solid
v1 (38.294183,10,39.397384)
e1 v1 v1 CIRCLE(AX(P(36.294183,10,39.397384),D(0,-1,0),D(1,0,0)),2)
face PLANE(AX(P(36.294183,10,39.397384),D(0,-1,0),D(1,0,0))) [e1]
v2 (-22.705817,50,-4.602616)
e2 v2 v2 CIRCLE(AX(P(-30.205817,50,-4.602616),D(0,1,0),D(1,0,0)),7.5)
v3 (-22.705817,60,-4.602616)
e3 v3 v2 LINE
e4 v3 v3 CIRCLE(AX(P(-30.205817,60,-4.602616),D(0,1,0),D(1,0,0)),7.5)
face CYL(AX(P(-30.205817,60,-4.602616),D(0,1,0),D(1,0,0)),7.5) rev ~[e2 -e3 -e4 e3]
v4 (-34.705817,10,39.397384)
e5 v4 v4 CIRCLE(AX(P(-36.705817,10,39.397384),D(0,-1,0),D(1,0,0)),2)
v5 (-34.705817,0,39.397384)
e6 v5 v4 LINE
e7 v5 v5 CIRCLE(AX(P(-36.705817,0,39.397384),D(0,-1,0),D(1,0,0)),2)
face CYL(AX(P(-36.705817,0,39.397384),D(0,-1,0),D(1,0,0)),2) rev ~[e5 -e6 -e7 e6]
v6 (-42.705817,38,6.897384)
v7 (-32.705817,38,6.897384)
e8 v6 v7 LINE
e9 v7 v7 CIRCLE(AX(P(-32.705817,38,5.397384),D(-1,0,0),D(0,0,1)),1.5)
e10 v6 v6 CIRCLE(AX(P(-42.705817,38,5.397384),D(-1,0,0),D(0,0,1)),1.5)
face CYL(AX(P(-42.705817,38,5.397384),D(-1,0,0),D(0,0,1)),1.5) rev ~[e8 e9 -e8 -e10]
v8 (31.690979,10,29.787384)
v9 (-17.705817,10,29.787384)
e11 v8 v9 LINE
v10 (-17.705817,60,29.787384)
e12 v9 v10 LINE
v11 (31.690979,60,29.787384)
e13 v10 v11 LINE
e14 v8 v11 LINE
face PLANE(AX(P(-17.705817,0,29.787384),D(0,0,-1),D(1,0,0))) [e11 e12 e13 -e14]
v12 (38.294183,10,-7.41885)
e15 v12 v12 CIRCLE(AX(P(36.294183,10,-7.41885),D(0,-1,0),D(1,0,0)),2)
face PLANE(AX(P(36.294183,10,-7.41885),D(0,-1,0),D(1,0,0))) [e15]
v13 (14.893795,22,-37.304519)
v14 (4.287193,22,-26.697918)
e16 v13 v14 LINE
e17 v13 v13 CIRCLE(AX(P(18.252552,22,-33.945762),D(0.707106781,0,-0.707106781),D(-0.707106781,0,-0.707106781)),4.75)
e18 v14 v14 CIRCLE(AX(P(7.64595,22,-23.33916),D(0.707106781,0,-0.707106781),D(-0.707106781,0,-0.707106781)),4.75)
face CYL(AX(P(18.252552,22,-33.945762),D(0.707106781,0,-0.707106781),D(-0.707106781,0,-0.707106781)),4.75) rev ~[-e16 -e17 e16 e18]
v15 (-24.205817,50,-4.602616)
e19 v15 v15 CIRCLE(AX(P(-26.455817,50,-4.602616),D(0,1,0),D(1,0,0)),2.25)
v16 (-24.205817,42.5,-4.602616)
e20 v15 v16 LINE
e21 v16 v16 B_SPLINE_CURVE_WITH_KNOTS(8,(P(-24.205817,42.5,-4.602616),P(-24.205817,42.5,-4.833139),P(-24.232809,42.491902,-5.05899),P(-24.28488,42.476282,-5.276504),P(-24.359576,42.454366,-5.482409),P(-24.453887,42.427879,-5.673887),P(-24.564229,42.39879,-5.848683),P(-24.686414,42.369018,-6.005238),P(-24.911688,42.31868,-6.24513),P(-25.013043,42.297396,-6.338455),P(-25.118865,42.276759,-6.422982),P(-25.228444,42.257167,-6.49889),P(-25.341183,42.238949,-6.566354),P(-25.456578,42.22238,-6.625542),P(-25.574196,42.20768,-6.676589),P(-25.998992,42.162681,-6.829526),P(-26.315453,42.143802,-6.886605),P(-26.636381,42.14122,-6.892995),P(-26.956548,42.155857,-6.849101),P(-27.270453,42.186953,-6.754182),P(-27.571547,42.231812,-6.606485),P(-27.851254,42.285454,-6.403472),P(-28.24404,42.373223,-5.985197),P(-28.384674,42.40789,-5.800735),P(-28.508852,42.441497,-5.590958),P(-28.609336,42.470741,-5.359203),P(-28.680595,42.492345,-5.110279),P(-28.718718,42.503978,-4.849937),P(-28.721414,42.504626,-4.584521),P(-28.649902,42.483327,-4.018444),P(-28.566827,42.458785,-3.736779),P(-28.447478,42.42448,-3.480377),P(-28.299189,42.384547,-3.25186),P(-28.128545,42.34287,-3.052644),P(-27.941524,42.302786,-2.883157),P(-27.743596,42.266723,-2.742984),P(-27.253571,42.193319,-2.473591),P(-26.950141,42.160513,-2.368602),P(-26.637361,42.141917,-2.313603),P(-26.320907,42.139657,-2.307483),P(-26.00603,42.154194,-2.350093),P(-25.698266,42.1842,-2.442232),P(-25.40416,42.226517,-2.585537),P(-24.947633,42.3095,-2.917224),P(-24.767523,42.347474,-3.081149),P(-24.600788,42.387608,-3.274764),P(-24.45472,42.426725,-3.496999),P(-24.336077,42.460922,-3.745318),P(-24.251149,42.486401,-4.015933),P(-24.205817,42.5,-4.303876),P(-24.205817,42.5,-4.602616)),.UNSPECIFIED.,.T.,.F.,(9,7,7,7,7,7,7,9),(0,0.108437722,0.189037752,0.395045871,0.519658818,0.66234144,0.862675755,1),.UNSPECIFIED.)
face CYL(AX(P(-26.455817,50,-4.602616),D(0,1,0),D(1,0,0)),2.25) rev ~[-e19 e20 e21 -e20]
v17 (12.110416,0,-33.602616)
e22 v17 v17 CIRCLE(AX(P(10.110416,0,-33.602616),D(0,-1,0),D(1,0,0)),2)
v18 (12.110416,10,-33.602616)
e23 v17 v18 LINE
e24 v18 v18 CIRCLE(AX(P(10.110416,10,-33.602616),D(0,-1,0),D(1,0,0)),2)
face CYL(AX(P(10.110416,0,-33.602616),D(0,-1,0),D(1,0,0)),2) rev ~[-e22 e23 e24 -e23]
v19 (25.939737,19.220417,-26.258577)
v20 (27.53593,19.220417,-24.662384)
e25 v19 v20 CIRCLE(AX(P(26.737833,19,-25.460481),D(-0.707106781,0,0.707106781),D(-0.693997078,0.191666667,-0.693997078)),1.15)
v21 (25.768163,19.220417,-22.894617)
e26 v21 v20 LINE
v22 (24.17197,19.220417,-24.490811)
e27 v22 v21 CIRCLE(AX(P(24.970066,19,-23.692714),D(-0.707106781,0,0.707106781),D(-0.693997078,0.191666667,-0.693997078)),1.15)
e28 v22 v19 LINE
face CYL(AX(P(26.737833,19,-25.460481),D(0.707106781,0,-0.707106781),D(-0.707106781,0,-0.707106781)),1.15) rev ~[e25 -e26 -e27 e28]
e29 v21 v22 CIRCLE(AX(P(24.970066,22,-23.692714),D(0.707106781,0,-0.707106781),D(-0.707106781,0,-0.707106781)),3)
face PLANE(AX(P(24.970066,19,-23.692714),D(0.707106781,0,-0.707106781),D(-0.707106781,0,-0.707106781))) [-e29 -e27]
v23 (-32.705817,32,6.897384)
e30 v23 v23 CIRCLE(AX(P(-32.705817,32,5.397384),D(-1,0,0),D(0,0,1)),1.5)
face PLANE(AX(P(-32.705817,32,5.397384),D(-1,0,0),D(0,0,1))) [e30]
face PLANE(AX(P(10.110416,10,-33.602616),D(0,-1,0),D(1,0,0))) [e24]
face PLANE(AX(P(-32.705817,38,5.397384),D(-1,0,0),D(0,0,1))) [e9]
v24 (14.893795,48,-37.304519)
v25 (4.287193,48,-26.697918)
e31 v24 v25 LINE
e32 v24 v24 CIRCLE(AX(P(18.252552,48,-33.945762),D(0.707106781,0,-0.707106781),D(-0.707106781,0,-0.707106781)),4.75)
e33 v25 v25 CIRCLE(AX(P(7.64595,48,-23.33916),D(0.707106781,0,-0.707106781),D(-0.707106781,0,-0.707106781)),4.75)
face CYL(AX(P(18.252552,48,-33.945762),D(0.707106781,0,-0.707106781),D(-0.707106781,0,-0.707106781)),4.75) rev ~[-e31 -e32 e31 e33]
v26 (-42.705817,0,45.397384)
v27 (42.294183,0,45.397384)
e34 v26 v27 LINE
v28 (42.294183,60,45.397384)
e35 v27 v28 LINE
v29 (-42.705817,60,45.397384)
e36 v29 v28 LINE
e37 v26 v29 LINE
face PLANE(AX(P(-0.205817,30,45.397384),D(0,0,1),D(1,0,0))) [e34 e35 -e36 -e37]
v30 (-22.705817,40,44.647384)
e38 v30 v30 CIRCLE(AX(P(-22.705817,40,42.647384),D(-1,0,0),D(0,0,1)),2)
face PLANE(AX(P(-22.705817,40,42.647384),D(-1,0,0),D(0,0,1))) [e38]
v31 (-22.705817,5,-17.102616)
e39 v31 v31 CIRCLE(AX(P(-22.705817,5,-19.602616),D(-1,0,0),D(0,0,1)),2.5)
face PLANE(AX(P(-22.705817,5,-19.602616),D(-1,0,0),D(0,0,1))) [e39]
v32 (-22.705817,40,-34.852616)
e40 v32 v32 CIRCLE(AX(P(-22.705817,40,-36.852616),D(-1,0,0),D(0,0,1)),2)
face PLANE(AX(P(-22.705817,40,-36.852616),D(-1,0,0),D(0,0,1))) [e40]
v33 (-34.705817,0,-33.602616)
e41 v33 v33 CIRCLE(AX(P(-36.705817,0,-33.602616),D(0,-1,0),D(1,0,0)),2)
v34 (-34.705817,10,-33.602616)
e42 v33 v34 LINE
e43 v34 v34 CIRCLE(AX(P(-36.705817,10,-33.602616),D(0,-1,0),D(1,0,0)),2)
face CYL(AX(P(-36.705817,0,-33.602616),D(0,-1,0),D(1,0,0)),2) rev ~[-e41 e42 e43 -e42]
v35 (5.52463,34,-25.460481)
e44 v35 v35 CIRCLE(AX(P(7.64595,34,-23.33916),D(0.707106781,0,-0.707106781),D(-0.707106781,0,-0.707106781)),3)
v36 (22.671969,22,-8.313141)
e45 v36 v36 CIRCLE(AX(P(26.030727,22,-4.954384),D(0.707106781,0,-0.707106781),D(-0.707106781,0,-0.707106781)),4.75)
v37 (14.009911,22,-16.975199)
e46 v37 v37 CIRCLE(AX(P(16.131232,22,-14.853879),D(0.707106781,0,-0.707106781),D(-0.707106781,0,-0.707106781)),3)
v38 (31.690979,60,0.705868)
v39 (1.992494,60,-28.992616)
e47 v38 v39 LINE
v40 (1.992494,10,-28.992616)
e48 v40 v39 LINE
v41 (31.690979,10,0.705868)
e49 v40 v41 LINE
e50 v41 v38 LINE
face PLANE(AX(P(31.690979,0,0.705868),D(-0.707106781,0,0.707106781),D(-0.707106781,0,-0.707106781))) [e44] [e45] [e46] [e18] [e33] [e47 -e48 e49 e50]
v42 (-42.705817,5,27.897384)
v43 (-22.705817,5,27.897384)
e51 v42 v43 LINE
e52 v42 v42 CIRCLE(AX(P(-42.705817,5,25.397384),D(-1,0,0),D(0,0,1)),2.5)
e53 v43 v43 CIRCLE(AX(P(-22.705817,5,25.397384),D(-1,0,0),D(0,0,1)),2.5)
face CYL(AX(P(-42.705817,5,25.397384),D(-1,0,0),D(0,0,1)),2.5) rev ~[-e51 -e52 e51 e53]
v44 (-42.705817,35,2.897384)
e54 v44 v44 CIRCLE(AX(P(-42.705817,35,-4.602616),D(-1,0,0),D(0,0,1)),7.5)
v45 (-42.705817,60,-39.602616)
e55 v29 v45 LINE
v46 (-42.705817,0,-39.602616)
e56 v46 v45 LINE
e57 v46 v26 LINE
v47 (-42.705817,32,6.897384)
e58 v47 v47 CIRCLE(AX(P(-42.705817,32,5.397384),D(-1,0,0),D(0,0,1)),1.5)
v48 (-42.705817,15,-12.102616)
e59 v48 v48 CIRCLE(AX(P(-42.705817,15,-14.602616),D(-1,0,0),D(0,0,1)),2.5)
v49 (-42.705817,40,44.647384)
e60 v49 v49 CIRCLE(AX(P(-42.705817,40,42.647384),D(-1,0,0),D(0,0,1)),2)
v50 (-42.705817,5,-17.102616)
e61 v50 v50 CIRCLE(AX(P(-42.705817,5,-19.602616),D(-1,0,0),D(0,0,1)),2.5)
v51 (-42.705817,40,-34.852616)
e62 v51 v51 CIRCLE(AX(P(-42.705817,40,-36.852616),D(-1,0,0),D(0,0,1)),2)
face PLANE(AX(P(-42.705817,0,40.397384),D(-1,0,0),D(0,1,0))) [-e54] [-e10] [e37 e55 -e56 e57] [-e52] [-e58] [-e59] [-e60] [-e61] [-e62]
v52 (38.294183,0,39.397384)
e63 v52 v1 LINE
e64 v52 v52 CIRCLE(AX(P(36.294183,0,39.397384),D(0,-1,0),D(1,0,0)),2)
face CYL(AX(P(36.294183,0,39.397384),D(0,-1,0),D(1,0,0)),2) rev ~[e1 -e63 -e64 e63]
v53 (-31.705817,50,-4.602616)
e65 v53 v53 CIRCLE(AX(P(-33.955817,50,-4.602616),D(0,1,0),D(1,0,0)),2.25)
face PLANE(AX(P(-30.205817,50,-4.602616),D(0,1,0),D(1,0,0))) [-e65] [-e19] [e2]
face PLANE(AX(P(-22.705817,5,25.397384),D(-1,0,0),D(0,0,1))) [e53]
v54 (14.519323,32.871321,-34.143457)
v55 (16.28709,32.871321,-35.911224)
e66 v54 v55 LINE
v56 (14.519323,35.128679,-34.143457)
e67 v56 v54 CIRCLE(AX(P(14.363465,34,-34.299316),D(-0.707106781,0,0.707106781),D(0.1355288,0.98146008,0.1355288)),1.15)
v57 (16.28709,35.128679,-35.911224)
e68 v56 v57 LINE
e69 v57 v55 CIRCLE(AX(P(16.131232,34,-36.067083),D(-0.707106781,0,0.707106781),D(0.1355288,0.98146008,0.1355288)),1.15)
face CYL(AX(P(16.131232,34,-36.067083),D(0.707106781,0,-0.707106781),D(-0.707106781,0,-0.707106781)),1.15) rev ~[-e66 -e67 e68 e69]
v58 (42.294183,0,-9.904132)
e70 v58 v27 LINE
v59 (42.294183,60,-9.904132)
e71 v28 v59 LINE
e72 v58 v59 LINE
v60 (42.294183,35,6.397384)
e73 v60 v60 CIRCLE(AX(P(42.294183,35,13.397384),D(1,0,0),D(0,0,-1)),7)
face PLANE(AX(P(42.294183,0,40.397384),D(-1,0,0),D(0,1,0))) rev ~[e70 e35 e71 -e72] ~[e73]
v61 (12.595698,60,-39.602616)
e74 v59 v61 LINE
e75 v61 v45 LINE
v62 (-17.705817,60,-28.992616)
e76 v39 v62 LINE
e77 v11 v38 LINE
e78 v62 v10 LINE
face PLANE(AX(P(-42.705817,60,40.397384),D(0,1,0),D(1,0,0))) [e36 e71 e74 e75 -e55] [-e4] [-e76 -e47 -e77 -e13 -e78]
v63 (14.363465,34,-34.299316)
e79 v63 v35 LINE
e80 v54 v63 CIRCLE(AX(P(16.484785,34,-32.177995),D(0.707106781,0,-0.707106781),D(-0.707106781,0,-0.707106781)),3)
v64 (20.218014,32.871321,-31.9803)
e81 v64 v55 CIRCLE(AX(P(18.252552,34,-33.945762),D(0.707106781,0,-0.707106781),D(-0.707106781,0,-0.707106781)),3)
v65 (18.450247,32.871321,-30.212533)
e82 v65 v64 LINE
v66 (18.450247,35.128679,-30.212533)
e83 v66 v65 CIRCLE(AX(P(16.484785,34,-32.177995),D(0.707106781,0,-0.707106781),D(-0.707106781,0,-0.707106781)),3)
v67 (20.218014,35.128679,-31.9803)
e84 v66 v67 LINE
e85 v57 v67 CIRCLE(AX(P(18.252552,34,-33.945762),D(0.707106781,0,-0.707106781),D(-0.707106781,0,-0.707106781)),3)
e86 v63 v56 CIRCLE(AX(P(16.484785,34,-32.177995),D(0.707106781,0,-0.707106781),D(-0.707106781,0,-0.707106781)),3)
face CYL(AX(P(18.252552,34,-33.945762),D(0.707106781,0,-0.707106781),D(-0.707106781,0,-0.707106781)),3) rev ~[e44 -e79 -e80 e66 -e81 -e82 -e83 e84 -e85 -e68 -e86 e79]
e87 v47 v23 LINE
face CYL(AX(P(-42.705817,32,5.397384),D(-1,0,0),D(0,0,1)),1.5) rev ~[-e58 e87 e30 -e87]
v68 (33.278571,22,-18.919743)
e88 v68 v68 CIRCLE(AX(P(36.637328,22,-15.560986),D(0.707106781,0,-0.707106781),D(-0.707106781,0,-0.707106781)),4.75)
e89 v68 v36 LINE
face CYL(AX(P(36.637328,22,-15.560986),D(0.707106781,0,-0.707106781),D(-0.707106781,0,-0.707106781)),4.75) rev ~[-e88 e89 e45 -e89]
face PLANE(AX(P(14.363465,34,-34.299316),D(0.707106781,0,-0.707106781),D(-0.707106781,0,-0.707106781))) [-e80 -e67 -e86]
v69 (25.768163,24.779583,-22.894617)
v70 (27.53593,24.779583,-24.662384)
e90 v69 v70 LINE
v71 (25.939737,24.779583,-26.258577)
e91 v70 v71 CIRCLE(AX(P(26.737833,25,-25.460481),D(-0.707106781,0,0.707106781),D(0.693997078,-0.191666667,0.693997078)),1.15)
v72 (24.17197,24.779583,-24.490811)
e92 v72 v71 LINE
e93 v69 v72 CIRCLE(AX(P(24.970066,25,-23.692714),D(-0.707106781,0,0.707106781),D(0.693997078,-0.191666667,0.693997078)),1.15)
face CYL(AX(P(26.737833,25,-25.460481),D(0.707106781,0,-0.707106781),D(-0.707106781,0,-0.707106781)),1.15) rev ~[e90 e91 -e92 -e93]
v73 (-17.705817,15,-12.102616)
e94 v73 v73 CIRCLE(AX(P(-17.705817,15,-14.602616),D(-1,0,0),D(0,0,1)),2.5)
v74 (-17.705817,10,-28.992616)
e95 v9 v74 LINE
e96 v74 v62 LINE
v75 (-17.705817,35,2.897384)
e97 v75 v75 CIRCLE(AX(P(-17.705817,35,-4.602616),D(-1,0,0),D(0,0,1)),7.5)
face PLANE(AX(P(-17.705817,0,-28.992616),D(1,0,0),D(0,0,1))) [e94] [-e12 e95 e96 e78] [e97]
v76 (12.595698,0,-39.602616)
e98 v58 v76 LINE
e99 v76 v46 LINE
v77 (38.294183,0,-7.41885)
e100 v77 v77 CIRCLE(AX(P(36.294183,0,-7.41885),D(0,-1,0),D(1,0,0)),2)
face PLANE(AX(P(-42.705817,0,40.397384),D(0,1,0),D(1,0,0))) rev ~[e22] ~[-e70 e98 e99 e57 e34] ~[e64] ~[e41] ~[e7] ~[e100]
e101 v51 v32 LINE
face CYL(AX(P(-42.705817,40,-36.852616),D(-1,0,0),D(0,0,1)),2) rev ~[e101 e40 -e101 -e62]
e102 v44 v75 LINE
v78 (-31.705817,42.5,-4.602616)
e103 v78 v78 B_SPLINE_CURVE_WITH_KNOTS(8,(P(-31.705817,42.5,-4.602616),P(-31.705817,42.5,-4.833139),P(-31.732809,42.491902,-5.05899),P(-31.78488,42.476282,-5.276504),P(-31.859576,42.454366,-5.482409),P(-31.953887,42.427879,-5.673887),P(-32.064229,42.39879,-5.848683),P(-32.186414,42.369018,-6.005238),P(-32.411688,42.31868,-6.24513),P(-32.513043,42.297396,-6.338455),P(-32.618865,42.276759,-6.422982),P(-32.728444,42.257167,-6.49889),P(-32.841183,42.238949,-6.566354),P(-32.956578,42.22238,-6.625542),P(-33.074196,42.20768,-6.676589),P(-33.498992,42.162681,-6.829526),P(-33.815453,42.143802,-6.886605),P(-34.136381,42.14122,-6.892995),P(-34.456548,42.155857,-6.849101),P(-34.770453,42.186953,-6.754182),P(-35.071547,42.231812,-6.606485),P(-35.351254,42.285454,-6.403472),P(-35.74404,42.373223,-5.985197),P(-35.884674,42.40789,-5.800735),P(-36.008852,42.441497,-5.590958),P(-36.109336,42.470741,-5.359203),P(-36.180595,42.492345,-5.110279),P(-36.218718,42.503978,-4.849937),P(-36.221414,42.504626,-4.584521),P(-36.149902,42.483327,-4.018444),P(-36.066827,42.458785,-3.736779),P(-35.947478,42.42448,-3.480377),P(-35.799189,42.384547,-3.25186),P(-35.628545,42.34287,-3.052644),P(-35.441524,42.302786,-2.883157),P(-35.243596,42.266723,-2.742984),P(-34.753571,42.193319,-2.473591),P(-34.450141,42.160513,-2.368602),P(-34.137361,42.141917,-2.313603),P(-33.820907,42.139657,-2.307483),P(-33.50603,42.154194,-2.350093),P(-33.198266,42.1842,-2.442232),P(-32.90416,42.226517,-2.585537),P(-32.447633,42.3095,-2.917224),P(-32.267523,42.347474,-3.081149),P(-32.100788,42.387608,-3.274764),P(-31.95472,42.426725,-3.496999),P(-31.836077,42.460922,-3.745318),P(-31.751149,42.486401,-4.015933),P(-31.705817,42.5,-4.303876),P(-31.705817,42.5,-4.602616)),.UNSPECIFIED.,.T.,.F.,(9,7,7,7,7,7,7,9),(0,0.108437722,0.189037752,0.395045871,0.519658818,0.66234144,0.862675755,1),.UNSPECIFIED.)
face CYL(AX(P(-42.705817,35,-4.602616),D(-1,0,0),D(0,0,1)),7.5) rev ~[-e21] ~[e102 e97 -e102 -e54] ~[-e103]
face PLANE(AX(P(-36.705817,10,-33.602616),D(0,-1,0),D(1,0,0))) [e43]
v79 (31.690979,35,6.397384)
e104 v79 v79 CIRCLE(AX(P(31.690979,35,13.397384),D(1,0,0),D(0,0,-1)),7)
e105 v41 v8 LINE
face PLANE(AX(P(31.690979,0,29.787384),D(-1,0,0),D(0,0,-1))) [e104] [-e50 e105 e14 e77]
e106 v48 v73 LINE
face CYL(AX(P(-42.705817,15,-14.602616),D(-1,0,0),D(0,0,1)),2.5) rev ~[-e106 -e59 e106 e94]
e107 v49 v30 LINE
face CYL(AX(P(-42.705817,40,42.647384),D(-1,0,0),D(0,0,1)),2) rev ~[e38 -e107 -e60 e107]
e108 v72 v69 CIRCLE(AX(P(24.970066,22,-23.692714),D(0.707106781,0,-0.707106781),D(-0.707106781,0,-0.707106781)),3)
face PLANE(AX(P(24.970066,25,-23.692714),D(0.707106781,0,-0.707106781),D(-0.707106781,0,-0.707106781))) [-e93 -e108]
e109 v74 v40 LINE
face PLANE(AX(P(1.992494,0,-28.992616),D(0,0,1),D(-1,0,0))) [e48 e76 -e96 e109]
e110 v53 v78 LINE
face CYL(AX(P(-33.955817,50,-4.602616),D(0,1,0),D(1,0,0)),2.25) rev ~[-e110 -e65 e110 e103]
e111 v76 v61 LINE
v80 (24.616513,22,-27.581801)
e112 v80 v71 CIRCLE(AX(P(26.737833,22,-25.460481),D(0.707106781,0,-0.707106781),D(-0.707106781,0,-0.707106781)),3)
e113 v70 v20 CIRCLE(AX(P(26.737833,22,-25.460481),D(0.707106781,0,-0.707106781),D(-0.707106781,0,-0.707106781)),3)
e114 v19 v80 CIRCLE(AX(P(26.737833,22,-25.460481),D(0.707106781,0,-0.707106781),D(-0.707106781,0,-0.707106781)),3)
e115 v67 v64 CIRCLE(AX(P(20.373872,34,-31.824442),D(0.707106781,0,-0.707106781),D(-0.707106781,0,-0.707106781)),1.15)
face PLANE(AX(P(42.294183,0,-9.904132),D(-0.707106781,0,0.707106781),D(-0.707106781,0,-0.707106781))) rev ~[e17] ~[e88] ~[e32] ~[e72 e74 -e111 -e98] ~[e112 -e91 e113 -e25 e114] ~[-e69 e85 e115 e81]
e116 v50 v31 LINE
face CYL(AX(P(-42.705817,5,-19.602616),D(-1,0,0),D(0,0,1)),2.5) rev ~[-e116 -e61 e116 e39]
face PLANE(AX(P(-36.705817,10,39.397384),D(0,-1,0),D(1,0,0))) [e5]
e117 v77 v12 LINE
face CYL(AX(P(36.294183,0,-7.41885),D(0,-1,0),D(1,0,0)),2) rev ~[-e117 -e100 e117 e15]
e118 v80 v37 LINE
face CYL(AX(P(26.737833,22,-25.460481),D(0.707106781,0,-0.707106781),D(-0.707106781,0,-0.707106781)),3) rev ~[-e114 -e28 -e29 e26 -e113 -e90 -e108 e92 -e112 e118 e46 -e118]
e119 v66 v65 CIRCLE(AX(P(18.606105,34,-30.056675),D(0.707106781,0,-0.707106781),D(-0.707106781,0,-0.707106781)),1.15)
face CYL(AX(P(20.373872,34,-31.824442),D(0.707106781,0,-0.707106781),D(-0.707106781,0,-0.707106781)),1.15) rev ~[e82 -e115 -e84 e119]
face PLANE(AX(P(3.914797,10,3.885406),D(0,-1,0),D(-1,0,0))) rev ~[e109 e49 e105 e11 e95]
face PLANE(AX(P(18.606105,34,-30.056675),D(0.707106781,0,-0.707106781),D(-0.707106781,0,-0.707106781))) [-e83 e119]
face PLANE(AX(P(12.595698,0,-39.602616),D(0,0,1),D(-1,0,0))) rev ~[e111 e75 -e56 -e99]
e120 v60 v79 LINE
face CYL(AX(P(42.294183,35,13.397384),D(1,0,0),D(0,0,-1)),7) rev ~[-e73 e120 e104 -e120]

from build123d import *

# Parameters (mm, degrees)
BOSS_EXTRUDE2_DEPTH = 60
BOSS_EXTRUDE3_DEPTH = 10
CUT_EXTRUDE2_REACH  = 97.673
SKETCH8_R           = 4.75
SKETCH8_R_2         = 3
CUT_EXTRUDE3_REACH  = 87
SKETCH9_R           = 7.5
CUT_EXTRUDE4_REACH  = 87
SKETCH10_R          = 7
SKETCH12_R          = 7.5
CUT_EXTRUDE6_DEPTH  = 10
CUT_EXTRUDE16_REACH = 52
SKETCH24_R          = 2.25
SKETCH33_R          = 1.5
CUT_EXTRUDE18_DEPTH = 10
SKETCH37_W          = 85
SKETCH37_H          = 60
BOSS_EXTRUDE7_DEPTH = 5
SKETCH38_R          = 2.5
SKETCH38_R_2        = 2
CUT_EXTRUDE19_DEPTH = 20
CUT_EXTRUDE20_REACH = 87
SKETCH39_R          = 2.5
SKETCH40_R          = 2
CUT_EXTRUDE21_DEPTH = 10
SKETCH41_R          = 1.15
CUT_EXTRUDE22_DEPTH = 2.5


with BuildPart() as part:
    # Sketch1 → Boss-Extrude2 (new body)
    with BuildSketch(Plane(origin=(0, 0, 0), x_dir=(1, 0, 0), z_dir=(0, 1, 0))):
        Polygon((-42.705817414, 39.602616449), (-42.705817414, -40.397383551), (42.294182586, -40.397383551), (42.294182586, 9.904131639), (12.595697776, 39.602616449), align=None)
        Polygon((-17.705817414, 28.992616449), (-17.705817414, -29.787383551), (31.69097915, -29.787383551), (31.69097915, -0.705868361), (1.992494341, 28.992616449), align=None, mode=Mode.SUBTRACT)
    extrude(amount=BOSS_EXTRUDE2_DEPTH)

    # Sketch4 → Boss-Extrude3 (add)
    with BuildSketch(Plane(origin=(0, 0, 0), x_dir=(-1, 0, 0), z_dir=(0, -1, 0))):
        Polygon((17.705817414, 28.992616449), (-1.992494341, 28.992616449), (-31.69097915, -0.705868361), (-31.69097915, -29.787383551), (17.705817414, -29.787383551), align=None)
    extrude(amount=-BOSS_EXTRUDE3_DEPTH)

    # Sketch8 → Cut-Extrude2 (cut, up to next)
    with BuildSketch(Plane(origin=(26.099157113, 0, -26.099157113), x_dir=(-0.707106781, 0, -0.707106781), z_dir=(0.707106781, 0, -0.707106781)), mode=Mode.PRIVATE) as cut_extrude2_sk1:
        with Locations((11.096775332, 48)):
            Circle(SKETCH8_R)
    cut_extrude2_tool1 = extrude(cut_extrude2_sk1.sketch, amount=-CUT_EXTRUDE2_REACH, mode=Mode.PRIVATE) & part.part
    add(cut_extrude2_tool1.solids().sort_by_distance((18.252552, 48, -33.945762))[0], mode=Mode.SUBTRACT)
    # Sketch8 → Cut-Extrude2 (cut, up to next)
    with BuildSketch(Plane(origin=(26.099157113, 0, -26.099157113), x_dir=(-0.707106781, 0, -0.707106781), z_dir=(0.707106781, 0, -0.707106781)), mode=Mode.PRIVATE) as cut_extrude2_sk2:
        with Locations((11.096775332, 34)):
            Circle(SKETCH8_R_2)
    cut_extrude2_tool2 = extrude(cut_extrude2_sk2.sketch, amount=-CUT_EXTRUDE2_REACH, mode=Mode.PRIVATE) & part.part
    add(cut_extrude2_tool2.solids().sort_by_distance((18.252552, 34, -33.945762))[0], mode=Mode.SUBTRACT)
    # Sketch8 → Cut-Extrude2 (cut, up to next)
    with BuildSketch(Plane(origin=(26.099157113, 0, -26.099157113), x_dir=(-0.707106781, 0, -0.707106781), z_dir=(0.707106781, 0, -0.707106781)), mode=Mode.PRIVATE) as cut_extrude2_sk3:
        with Locations((11.096775332, 22)):
            Circle(SKETCH8_R)
    cut_extrude2_tool3 = extrude(cut_extrude2_sk3.sketch, amount=-CUT_EXTRUDE2_REACH, mode=Mode.PRIVATE) & part.part
    add(cut_extrude2_tool3.solids().sort_by_distance((18.252552, 22, -33.945762))[0], mode=Mode.SUBTRACT)
    # Sketch8 → Cut-Extrude2 (cut, up to next)
    with BuildSketch(Plane(origin=(26.099157113, 0, -26.099157113), x_dir=(-0.707106781, 0, -0.707106781), z_dir=(0.707106781, 0, -0.707106781)), mode=Mode.PRIVATE) as cut_extrude2_sk4:
        with Locations((-0.903224668, 22)):
            Circle(SKETCH8_R_2)
    cut_extrude2_tool4 = extrude(cut_extrude2_sk4.sketch, amount=-CUT_EXTRUDE2_REACH, mode=Mode.PRIVATE) & part.part
    add(cut_extrude2_tool4.solids().sort_by_distance((26.737833, 22, -25.460481))[0], mode=Mode.SUBTRACT)
    # Sketch8 → Cut-Extrude2 (cut, up to next)
    with BuildSketch(Plane(origin=(26.099157113, 0, -26.099157113), x_dir=(-0.707106781, 0, -0.707106781), z_dir=(0.707106781, 0, -0.707106781)), mode=Mode.PRIVATE) as cut_extrude2_sk5:
        with Locations((-14.903224668, 22)):
            Circle(SKETCH8_R)
    cut_extrude2_tool5 = extrude(cut_extrude2_sk5.sketch, amount=-CUT_EXTRUDE2_REACH, mode=Mode.PRIVATE) & part.part
    add(cut_extrude2_tool5.solids().sort_by_distance((36.637328, 22, -15.560986))[0], mode=Mode.SUBTRACT)

    # Sketch9 → Cut-Extrude3 (cut, up to next)
    with BuildSketch(Plane.ZY.offset(42.705817414), mode=Mode.PRIVATE) as cut_extrude3_sk1:
        with Locations((-4.602616449, 35)):
            Circle(SKETCH9_R)
    cut_extrude3_tool1 = extrude(cut_extrude3_sk1.sketch, amount=-CUT_EXTRUDE3_REACH, mode=Mode.PRIVATE) & part.part
    add(cut_extrude3_tool1.solids().sort_by_distance((-42.705817, 35, -4.602616))[0], mode=Mode.SUBTRACT)

    # Sketch10 → Cut-Extrude4 (cut, up to next)
    with BuildSketch(Plane(origin=(42.294182586, 0, 0), x_dir=(0, 0, -1), z_dir=(1, 0, 0)), mode=Mode.PRIVATE) as cut_extrude4_sk1:
        with Locations((-13.397383551, 35)):
            Circle(SKETCH10_R)
    cut_extrude4_tool1 = extrude(cut_extrude4_sk1.sketch, amount=-CUT_EXTRUDE4_REACH, mode=Mode.PRIVATE) & part.part
    add(cut_extrude4_tool1.solids().sort_by_distance((42.294183, 35, 13.397384))[0], mode=Mode.SUBTRACT)

    # Sketch12 → Cut-Extrude6 (cut)
    with BuildSketch(Plane(origin=(0, 60, 0), x_dir=(1, 0, 0), z_dir=(0, 1, 0))):
        with Locations((-30.205817414, 4.602616449)):
            Circle(SKETCH12_R)
    extrude(amount=-CUT_EXTRUDE6_DEPTH, mode=Mode.SUBTRACT)

    # Sketch24 → Cut-Extrude16 (cut, up to next)
    with BuildSketch(Plane(origin=(0, 50, 0), x_dir=(1, 0, 0), z_dir=(0, 1, 0)), mode=Mode.PRIVATE) as cut_extrude16_sk1:
        with Locations((-26.455817414, 4.602616449)):
            Circle(SKETCH24_R)
    cut_extrude16_tool1 = extrude(cut_extrude16_sk1.sketch, amount=-CUT_EXTRUDE16_REACH, mode=Mode.PRIVATE) & part.part
    add(cut_extrude16_tool1.solids().sort_by_distance((-26.455817, 50, -4.602616))[0], mode=Mode.SUBTRACT)
    # Sketch24 → Cut-Extrude16 (cut, up to next)
    with BuildSketch(Plane(origin=(0, 50, 0), x_dir=(1, 0, 0), z_dir=(0, 1, 0)), mode=Mode.PRIVATE) as cut_extrude16_sk2:
        with Locations((-33.955817414, 4.602616449)):
            Circle(SKETCH24_R)
    cut_extrude16_tool2 = extrude(cut_extrude16_sk2.sketch, amount=-CUT_EXTRUDE16_REACH, mode=Mode.PRIVATE) & part.part
    add(cut_extrude16_tool2.solids().sort_by_distance((-33.955817, 50, -4.602616))[0], mode=Mode.SUBTRACT)

    # Sketch33 → Cut-Extrude18 (cut)
    with BuildSketch(Plane.ZY.offset(42.705817414)):
        with Locations((5.397383551, 38)):
            Circle(SKETCH33_R)
        with Locations((5.397383551, 32)):
            Circle(SKETCH33_R)
    extrude(amount=-CUT_EXTRUDE18_DEPTH, mode=Mode.SUBTRACT)

    # Sketch37 → Boss-Extrude7 (add)
    with BuildSketch(Plane.XY.offset(40.397383551)):
        with Locations((-0.205817414, 30)):
            Rectangle(SKETCH37_W, SKETCH37_H)
    extrude(amount=BOSS_EXTRUDE7_DEPTH)

    # Sketch38 → Cut-Extrude19 (cut)
    with BuildSketch(Plane.ZY.offset(42.705817414)):
        with Locations((-19.602616449, 5)):
            Circle(SKETCH38_R)
        with Locations((25.397383551, 5)):
            Circle(SKETCH38_R)
        with Locations((-36.852616449, 40)):
            Circle(SKETCH38_R_2)
        with Locations((42.647383551, 40)):
            Circle(SKETCH38_R_2)
    extrude(amount=-CUT_EXTRUDE19_DEPTH, mode=Mode.SUBTRACT)

    # Sketch39 → Cut-Extrude20 (cut, up to next)
    with BuildSketch(Plane.ZY.offset(42.705817414), mode=Mode.PRIVATE) as cut_extrude20_sk1:
        with Locations((-14.602616449, 15)):
            Circle(SKETCH39_R)
    cut_extrude20_tool1 = extrude(cut_extrude20_sk1.sketch, amount=-CUT_EXTRUDE20_REACH, mode=Mode.PRIVATE) & part.part
    add(cut_extrude20_tool1.solids().sort_by_distance((-42.705817, 15, -14.602616))[0], mode=Mode.SUBTRACT)

    # Sketch40 → Cut-Extrude21 (cut)
    with BuildSketch(Plane.XZ):
        with Locations((-36.705817414, -33.602616449)):
            Circle(SKETCH40_R)
        with Locations((-36.705817414, 39.397383551)):
            Circle(SKETCH40_R)
        with Locations((36.294182586, 39.397383551)):
            Circle(SKETCH40_R)
        with Locations((36.294182586, -7.418850265)):
            Circle(SKETCH40_R)
        with Locations((10.110416402, -33.602616449)):
            Circle(SKETCH40_R)
    extrude(amount=-CUT_EXTRUDE21_DEPTH, mode=Mode.SUBTRACT)

    # Sketch41 → Cut-Extrude22 (cut)
    with BuildSketch(Plane(origin=(26.099157113, 0, -26.099157113), x_dir=(-0.707106781, 0, -0.707106781), z_dir=(0.707106781, 0, -0.707106781))):
        with Locations((14.096775332, 34)):
            Circle(SKETCH41_R)
        with Locations((8.096775332, 34)):
            Circle(SKETCH41_R)
        with Locations((-0.903224668, 25)):
            Circle(SKETCH41_R)
        with Locations((-0.903224668, 19)):
            Circle(SKETCH41_R)
    extrude(amount=-CUT_EXTRUDE22_DEPTH, mode=Mode.SUBTRACT)


solid = part.part
